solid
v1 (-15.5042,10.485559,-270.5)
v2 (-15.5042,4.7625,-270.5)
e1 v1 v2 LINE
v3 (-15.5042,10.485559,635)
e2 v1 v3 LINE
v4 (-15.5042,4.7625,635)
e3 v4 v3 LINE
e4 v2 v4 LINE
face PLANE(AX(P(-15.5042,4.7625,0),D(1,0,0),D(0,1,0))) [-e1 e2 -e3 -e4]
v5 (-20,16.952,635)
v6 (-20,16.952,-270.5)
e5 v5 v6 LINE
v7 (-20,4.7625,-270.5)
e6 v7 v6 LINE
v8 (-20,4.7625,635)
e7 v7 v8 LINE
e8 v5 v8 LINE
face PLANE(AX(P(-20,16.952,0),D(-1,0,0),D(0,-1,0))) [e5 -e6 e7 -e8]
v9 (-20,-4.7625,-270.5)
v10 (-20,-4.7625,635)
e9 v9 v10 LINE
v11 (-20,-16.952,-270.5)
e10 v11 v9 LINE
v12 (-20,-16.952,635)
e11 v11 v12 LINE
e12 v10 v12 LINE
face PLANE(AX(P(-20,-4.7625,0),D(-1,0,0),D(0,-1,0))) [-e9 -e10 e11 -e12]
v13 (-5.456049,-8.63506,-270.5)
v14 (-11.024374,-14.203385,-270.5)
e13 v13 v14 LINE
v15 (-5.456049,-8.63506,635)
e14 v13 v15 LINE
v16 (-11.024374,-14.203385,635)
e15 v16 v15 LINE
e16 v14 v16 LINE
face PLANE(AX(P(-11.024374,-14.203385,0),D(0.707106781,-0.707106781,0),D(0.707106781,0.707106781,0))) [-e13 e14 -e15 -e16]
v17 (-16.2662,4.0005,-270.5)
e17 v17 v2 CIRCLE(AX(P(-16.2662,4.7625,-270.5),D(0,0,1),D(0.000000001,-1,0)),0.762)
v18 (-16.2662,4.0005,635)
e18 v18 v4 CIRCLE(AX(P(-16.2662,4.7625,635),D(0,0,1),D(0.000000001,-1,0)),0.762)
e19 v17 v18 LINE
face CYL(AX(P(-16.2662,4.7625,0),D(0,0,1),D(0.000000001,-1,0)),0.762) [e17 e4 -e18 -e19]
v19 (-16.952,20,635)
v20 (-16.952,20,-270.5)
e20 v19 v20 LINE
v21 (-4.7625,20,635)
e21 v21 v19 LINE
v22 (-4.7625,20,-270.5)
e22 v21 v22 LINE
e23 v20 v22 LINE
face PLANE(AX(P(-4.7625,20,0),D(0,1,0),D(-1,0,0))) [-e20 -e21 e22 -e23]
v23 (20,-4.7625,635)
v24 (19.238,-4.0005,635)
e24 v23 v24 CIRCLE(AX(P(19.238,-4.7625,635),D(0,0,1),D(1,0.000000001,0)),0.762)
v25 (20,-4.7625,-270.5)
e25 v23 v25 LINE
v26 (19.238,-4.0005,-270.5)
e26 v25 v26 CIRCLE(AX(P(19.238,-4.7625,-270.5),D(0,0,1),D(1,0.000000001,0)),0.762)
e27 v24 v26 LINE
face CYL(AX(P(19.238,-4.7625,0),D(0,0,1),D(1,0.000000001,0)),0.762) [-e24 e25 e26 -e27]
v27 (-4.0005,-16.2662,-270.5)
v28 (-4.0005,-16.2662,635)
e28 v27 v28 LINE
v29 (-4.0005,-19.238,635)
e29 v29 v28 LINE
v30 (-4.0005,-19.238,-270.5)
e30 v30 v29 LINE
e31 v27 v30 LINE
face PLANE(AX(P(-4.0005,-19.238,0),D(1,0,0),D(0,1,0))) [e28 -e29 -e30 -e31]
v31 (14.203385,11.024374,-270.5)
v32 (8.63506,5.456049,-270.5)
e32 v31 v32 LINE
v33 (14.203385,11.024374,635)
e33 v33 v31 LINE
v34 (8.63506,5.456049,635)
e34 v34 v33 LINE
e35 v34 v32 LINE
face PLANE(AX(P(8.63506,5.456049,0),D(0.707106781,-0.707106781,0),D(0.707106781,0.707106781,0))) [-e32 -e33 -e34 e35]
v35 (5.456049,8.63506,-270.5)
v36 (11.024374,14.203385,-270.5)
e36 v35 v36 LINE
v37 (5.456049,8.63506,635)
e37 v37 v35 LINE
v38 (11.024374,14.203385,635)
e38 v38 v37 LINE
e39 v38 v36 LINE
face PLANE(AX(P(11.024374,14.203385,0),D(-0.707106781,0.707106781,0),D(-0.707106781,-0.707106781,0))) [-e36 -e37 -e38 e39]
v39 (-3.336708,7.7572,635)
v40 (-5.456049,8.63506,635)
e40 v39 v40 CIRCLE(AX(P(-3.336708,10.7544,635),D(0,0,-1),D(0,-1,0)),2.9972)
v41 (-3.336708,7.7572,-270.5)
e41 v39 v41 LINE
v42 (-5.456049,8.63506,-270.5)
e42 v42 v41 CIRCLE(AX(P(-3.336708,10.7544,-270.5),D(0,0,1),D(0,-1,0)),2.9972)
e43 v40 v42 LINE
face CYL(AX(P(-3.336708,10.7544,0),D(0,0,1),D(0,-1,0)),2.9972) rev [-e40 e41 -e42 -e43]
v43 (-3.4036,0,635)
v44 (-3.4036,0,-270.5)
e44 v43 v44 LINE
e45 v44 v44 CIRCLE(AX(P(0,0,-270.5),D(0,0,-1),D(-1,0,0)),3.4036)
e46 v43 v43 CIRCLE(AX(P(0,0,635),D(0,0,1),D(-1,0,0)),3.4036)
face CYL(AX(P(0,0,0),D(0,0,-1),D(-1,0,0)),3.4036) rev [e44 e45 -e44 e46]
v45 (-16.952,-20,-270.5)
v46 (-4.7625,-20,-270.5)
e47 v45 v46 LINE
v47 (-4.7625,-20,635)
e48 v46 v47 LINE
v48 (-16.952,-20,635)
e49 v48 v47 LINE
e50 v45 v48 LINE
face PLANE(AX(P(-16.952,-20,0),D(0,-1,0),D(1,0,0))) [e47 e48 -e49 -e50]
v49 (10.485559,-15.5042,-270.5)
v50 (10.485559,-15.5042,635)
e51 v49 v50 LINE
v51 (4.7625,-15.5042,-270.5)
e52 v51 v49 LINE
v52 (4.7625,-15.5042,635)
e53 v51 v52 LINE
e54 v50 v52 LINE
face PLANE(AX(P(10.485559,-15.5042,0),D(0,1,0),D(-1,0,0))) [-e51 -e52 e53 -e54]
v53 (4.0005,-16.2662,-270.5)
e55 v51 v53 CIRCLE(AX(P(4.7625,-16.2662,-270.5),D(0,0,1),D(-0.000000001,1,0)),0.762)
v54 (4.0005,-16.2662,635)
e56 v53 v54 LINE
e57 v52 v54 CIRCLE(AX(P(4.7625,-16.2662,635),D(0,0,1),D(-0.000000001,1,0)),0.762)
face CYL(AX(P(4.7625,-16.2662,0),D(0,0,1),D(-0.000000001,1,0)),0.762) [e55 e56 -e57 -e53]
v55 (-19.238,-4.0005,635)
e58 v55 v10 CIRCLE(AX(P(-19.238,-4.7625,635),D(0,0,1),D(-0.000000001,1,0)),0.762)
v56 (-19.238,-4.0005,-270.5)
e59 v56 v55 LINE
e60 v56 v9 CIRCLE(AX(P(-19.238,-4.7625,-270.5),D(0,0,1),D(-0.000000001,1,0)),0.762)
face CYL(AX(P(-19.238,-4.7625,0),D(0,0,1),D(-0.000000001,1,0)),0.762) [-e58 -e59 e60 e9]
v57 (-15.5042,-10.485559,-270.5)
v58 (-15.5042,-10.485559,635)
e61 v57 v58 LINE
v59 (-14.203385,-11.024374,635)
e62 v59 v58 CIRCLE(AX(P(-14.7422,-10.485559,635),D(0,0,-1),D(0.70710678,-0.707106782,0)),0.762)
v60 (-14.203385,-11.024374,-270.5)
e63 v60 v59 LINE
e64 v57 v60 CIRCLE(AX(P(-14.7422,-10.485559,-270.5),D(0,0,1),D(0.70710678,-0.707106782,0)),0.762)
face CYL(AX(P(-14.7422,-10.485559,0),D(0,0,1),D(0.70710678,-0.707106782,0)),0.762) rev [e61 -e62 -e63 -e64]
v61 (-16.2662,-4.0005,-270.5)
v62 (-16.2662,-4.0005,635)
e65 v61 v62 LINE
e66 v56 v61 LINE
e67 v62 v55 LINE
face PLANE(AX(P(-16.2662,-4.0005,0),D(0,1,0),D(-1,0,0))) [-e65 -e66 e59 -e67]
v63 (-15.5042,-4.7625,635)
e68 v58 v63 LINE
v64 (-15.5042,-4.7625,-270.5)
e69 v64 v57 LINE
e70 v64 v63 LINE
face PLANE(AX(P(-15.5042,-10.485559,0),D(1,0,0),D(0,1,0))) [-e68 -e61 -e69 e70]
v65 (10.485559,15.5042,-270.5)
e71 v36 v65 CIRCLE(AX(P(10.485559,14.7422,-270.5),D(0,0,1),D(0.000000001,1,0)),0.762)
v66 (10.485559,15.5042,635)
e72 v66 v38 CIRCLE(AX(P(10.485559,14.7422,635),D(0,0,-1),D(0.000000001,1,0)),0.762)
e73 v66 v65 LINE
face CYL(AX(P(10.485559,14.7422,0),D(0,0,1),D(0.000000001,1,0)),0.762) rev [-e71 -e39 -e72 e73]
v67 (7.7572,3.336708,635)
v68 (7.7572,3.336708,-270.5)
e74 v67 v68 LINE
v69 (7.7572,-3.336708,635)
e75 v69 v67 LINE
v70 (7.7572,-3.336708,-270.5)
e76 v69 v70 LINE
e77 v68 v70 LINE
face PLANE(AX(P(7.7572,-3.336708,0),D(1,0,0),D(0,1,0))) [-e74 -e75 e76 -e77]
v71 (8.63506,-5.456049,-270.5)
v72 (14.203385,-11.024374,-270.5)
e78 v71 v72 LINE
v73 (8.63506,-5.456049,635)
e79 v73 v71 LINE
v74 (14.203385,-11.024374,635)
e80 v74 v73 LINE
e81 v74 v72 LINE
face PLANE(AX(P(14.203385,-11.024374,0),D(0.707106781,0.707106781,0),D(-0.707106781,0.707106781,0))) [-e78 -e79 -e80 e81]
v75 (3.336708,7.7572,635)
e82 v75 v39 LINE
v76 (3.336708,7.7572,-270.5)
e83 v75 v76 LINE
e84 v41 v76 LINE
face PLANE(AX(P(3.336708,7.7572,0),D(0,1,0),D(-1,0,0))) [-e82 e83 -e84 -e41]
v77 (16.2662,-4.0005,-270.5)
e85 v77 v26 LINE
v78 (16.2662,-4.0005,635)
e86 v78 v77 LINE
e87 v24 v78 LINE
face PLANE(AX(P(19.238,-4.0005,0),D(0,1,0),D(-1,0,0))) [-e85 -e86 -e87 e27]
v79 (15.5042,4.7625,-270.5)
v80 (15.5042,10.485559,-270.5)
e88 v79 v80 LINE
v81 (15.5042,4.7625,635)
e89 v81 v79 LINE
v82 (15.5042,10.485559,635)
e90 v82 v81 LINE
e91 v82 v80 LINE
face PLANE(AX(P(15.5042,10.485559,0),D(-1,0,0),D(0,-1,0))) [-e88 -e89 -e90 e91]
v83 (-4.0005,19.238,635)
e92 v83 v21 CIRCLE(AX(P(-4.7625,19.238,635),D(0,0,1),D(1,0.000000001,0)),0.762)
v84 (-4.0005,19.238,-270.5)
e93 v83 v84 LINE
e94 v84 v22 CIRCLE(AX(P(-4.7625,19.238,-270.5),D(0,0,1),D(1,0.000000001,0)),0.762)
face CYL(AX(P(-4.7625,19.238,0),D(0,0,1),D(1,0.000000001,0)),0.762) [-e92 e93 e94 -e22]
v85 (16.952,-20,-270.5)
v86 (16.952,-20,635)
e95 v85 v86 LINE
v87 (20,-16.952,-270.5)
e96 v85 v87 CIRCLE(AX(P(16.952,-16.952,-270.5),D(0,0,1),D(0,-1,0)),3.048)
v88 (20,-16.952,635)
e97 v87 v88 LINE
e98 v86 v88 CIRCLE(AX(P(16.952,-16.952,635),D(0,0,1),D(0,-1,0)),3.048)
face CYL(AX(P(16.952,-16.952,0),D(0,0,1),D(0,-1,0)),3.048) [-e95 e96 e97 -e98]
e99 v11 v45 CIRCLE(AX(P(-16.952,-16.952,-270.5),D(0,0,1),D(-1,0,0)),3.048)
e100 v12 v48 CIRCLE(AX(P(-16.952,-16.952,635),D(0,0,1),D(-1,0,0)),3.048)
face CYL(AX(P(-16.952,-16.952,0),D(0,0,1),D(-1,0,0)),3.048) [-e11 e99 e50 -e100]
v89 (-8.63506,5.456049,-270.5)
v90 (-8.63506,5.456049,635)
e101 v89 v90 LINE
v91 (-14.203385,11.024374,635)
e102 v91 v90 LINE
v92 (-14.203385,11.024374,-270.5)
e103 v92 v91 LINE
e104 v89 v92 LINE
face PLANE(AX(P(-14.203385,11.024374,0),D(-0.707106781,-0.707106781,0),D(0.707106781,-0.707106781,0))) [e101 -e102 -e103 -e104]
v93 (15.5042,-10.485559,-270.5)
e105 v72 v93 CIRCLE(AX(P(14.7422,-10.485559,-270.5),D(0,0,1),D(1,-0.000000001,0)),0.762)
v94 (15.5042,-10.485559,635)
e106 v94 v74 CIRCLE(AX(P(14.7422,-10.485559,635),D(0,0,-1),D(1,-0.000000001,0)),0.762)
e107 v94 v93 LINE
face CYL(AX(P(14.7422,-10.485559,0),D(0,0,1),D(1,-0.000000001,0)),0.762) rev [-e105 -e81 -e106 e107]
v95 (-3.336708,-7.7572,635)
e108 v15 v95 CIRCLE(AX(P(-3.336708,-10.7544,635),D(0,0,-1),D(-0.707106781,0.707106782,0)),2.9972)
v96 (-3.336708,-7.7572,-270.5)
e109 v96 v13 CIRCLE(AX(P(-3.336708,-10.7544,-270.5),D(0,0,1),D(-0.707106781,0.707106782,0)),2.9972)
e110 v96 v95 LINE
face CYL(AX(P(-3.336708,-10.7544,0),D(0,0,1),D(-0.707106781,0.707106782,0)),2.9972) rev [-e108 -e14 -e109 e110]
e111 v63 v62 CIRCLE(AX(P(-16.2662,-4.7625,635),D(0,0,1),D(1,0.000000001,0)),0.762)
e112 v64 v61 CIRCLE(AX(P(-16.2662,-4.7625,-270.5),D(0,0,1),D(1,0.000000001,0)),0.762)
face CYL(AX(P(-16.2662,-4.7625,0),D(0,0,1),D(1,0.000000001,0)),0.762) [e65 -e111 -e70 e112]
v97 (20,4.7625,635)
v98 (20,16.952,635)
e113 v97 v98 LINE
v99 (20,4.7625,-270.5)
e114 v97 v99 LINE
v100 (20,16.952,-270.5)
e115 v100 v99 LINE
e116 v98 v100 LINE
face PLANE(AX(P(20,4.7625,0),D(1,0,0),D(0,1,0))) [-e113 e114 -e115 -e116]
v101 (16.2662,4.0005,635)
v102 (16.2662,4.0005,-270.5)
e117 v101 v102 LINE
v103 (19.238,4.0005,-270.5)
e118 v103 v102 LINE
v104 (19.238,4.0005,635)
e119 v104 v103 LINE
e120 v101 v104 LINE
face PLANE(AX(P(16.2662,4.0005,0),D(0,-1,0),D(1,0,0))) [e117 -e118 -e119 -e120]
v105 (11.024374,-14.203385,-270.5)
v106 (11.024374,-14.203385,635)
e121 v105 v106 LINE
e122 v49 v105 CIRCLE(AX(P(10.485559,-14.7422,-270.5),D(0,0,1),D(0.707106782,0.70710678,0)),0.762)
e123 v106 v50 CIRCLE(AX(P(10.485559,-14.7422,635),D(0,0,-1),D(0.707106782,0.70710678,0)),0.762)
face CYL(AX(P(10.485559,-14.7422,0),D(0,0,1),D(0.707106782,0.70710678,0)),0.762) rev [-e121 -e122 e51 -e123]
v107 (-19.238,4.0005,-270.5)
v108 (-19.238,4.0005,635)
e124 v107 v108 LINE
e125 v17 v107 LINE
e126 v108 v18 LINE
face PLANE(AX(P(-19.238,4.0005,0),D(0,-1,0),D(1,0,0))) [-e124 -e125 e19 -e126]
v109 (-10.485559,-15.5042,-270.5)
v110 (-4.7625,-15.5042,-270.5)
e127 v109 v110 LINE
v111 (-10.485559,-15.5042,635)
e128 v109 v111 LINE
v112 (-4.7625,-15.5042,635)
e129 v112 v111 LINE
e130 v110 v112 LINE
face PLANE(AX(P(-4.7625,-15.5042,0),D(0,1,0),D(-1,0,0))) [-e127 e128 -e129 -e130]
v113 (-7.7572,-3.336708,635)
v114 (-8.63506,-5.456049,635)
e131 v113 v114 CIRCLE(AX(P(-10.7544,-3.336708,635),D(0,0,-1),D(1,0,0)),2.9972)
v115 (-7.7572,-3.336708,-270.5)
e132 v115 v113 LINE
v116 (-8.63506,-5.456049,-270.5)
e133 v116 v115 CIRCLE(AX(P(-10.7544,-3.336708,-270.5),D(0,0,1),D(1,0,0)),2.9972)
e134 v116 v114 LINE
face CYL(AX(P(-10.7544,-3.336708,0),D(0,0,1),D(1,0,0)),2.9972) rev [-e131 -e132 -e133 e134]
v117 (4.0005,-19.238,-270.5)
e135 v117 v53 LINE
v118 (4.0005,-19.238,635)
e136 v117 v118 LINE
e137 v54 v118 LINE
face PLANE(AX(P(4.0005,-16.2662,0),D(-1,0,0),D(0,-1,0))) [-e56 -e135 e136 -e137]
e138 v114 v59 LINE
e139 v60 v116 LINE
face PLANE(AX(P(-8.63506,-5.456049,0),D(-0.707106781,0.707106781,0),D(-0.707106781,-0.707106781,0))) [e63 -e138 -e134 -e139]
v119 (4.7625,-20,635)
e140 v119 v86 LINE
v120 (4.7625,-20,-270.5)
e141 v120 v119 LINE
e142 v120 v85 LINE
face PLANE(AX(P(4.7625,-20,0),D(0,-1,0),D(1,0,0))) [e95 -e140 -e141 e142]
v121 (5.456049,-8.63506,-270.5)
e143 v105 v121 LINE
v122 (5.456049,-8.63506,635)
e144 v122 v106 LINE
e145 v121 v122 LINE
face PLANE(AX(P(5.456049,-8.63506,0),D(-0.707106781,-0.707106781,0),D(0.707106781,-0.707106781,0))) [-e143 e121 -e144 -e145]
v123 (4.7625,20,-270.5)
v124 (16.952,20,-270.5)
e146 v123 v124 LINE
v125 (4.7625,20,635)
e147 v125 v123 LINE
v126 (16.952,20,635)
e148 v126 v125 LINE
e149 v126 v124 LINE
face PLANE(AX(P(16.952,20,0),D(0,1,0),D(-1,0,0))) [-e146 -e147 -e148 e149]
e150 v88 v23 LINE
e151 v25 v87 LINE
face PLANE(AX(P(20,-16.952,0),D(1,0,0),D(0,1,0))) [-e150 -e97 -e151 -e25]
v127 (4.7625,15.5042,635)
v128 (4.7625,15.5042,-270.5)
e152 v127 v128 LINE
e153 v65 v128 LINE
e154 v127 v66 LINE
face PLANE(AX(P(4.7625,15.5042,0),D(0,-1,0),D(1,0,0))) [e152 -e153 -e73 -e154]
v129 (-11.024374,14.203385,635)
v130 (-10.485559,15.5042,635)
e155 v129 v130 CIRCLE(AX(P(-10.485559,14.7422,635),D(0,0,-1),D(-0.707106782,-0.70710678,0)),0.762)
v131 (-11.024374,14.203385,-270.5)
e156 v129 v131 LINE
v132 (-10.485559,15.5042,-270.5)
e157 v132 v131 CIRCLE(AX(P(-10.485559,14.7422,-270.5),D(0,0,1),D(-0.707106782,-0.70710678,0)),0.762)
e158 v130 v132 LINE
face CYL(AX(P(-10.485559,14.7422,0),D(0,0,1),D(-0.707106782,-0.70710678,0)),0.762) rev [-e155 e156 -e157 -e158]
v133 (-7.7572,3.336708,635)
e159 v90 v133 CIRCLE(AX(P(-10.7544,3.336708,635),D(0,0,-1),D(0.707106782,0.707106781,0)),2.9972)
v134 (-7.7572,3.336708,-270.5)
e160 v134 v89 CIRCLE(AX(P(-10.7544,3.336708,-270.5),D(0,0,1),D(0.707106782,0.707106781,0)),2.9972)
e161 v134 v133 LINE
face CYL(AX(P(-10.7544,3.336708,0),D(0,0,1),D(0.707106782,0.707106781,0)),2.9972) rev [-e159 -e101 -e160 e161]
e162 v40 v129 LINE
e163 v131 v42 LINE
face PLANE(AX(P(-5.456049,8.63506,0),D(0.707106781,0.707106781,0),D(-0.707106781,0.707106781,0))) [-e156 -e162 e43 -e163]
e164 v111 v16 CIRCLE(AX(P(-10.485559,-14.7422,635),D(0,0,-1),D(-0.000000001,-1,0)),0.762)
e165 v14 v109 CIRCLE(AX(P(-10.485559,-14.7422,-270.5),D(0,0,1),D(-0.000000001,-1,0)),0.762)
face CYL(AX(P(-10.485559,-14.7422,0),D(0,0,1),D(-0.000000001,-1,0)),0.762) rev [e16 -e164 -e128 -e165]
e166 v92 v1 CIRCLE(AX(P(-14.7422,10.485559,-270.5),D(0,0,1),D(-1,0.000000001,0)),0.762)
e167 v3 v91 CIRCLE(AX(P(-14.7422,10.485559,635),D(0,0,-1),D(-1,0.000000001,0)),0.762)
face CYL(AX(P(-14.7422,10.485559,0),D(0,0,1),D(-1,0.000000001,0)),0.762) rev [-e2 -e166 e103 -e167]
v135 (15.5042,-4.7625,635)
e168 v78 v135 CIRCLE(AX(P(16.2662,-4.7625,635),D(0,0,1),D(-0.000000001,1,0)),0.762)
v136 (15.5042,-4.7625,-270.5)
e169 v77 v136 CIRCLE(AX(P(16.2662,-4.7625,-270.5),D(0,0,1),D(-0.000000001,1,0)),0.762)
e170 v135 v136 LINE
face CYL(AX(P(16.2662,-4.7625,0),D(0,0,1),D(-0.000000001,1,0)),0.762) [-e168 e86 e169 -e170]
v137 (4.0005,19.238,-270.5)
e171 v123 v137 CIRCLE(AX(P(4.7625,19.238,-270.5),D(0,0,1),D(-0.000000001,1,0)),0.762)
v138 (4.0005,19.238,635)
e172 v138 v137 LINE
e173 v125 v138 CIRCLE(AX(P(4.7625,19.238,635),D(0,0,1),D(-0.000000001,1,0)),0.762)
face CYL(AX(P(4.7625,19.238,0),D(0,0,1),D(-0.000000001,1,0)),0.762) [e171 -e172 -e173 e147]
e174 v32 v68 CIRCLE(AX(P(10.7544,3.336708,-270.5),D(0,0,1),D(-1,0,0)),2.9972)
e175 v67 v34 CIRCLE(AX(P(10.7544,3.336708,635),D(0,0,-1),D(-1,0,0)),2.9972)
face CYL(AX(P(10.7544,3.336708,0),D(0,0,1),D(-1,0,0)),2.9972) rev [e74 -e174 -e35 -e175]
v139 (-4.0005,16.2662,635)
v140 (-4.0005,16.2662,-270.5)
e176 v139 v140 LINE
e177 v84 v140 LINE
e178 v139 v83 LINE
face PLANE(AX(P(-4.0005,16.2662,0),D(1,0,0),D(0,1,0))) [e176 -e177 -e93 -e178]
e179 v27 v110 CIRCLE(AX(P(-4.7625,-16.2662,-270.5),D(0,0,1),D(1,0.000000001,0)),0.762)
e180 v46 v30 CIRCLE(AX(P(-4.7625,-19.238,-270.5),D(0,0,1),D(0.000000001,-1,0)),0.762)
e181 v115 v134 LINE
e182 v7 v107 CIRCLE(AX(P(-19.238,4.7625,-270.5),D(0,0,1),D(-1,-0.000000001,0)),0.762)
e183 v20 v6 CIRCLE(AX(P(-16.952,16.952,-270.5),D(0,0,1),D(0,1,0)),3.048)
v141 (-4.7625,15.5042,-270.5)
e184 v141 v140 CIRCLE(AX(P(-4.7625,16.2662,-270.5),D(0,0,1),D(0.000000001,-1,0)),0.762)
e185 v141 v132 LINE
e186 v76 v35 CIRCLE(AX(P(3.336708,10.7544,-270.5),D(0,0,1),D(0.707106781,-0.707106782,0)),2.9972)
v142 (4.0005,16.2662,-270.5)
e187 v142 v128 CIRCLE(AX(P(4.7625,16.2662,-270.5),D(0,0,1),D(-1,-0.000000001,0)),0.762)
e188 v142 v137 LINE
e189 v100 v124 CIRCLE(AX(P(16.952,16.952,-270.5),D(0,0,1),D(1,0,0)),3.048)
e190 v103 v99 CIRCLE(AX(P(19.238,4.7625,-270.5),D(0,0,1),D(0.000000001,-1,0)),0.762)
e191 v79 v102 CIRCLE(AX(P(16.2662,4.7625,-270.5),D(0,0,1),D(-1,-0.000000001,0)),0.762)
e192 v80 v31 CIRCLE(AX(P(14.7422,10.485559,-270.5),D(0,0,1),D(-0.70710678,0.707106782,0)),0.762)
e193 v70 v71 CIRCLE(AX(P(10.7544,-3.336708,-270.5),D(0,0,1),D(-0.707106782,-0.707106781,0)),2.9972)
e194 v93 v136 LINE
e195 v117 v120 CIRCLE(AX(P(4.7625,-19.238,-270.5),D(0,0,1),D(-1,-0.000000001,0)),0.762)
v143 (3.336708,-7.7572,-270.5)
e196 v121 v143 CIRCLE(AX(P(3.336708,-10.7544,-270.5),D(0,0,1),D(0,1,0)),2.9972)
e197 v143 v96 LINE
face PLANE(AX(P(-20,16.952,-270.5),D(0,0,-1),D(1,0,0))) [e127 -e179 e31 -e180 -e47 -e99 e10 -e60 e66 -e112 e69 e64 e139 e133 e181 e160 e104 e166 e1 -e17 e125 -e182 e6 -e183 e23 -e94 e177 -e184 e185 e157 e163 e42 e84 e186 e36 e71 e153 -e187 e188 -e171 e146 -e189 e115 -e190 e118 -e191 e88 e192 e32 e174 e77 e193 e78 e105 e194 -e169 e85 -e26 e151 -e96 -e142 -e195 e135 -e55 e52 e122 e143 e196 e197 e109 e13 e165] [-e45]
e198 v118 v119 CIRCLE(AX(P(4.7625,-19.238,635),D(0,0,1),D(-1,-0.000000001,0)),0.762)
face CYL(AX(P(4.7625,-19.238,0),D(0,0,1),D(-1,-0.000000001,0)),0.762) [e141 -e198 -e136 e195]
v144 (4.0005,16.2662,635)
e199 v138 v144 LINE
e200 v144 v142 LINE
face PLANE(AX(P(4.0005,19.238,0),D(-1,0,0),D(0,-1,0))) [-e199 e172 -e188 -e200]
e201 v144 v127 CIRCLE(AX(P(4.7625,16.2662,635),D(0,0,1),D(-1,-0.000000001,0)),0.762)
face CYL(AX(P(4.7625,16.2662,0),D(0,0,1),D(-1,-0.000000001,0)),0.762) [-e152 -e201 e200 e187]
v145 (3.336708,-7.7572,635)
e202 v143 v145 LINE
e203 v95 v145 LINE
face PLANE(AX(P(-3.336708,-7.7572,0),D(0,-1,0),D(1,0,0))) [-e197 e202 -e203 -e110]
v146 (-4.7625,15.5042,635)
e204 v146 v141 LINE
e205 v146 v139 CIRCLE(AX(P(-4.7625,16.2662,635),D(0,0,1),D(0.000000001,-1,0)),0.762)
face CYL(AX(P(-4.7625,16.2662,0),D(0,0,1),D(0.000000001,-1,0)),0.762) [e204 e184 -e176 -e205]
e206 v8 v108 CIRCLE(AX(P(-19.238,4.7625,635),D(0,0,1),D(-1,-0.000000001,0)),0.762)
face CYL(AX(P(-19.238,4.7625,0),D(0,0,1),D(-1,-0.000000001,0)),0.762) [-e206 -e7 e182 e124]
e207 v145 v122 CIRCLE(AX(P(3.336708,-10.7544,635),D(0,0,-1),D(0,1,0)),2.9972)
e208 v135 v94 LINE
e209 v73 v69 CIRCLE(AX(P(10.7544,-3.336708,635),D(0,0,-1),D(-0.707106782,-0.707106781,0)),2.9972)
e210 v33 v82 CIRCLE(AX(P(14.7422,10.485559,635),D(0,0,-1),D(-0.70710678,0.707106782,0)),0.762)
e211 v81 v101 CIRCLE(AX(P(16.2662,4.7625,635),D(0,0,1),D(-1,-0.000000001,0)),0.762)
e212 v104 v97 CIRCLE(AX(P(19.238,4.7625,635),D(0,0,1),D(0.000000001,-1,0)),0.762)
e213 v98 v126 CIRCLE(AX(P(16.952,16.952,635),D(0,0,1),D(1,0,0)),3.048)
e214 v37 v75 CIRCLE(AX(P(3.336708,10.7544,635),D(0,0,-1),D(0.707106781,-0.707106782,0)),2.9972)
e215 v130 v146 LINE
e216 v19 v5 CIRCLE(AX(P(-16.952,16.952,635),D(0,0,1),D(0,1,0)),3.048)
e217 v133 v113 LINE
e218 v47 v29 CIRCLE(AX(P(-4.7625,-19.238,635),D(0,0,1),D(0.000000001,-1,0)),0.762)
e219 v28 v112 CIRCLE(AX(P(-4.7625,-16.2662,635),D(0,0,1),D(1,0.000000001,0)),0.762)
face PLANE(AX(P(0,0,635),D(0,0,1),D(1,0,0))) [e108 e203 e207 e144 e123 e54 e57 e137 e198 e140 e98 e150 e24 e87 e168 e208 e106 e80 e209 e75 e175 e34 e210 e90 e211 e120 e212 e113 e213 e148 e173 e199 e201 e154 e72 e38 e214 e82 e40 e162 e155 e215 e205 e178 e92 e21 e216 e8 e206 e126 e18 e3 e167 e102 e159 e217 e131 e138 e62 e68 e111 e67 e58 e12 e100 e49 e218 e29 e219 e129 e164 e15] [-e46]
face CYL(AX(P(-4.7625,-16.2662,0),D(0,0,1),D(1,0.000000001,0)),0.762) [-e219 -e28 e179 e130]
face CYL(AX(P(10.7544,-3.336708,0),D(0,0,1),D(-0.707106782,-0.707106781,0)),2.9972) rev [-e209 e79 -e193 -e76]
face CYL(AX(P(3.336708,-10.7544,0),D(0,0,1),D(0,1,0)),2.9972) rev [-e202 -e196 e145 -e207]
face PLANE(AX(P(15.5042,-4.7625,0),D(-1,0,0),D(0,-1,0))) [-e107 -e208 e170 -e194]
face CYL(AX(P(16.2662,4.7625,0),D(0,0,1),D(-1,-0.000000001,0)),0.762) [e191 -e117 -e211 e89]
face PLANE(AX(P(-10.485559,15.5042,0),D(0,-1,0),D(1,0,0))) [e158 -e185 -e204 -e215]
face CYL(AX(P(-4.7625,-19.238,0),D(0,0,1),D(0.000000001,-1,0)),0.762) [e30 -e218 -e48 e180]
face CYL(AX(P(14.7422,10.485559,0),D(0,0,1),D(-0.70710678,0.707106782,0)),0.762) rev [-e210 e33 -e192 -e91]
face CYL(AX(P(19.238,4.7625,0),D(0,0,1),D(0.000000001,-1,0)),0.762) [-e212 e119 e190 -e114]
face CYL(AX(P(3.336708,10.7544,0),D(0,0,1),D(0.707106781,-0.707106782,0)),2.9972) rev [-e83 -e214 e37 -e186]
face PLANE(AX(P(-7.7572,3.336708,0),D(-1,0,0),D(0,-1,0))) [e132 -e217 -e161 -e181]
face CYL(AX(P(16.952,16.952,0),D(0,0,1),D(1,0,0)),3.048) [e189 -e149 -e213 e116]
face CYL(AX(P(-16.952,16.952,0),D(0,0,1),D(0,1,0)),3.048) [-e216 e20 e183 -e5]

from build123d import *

# Parameters (mm, degrees)
SKETCH1_R          = 3.4036
EXTRUDE1_DEPTH     = 635
CUT_EXTRUDE1_REACH = 638.389
SKETCH4_W          = 58.501723951
SKETCH4_H          = 389.38319937
SKETCH5_W          = 40
SKETCH5_H          = 364.5
CUT_EXTRUDE2_DEPTH = 3.048


with BuildPart() as part:
    # Sketch1 → Extrude1 (new, symmetric)
    with BuildSketch(Plane.XY):
        with BuildLine():
            Line((-20, 16.952), (-20, 4.7625))
            ThreePointArc((-20, 4.7625), (-19.776815367, 4.223684633), (-19.238, 4.0005))
            Line((-19.238, 4.0005), (-16.2662, 4.0005))
            ThreePointArc((-16.2662, 4.0005), (-15.727384633, 4.223684633), (-15.5042, 4.7625))
            Line((-15.5042, 4.7625), (-15.5042, 10.485558599))
            ThreePointArc((-15.5042, 10.485558599), (-15.033804775, 11.189554802), (-14.203384633, 11.024373966))
            Line((-14.203384633, 11.024373966), (-8.635059555, 5.456048889))
            ThreePointArc((-8.635059555, 5.456048889), (-7.985348265, 4.483687227), (-7.7572, 3.336708444))
            Line((-7.7572, 3.336708444), (-7.7572, -3.336708444))
            ThreePointArc((-7.7572, -3.336708444), (-7.985348265, -4.483687227), (-8.635059555, -5.456048889))
            Line((-8.635059555, -5.456048889), (-14.203384633, -11.024373966))
            ThreePointArc((-14.203384633, -11.024373966), (-15.033804775, -11.189554802), (-15.5042, -10.485558599))
            Line((-15.5042, -10.485558599), (-15.5042, -4.7625))
            ThreePointArc((-15.5042, -4.7625), (-15.727384633, -4.223684633), (-16.2662, -4.0005))
            Line((-16.2662, -4.0005), (-19.238, -4.0005))
            ThreePointArc((-19.238, -4.0005), (-19.776815367, -4.223684633), (-20, -4.7625))
            Line((-20, -4.7625), (-20, -16.952))
            ThreePointArc((-20, -16.952), (-19.107261469, -19.107261469), (-16.952, -20))
            Line((-16.952, -20), (-4.7625, -20))
            ThreePointArc((-4.7625, -20), (-4.223684633, -19.776815367), (-4.0005, -19.238))
            Line((-4.0005, -19.238), (-4.0005, -16.2662))
            ThreePointArc((-4.0005, -16.2662), (-4.223684633, -15.727384633), (-4.7625, -15.5042))
            Line((-4.7625, -15.5042), (-10.485558599, -15.5042))
            ThreePointArc((-10.485558599, -15.5042), (-11.189554802, -15.033804775), (-11.024373966, -14.203384633))
            Line((-11.024373966, -14.203384633), (-5.456048889, -8.635059555))
            ThreePointArc((-5.456048889, -8.635059555), (-4.483687227, -7.985348265), (-3.336708444, -7.7572))
            Line((-3.336708444, -7.7572), (3.336708444, -7.7572))
            ThreePointArc((3.336708444, -7.7572), (4.483687227, -7.985348265), (5.456048889, -8.635059555))
            Line((5.456048889, -8.635059555), (11.024373966, -14.203384633))
            ThreePointArc((11.024373966, -14.203384633), (11.189554802, -15.033804775), (10.485558599, -15.5042))
            Line((10.485558599, -15.5042), (4.7625, -15.5042))
            ThreePointArc((4.7625, -15.5042), (4.223684633, -15.727384633), (4.0005, -16.2662))
            Line((4.0005, -16.2662), (4.0005, -19.238))
            ThreePointArc((4.0005, -19.238), (4.223684633, -19.776815367), (4.7625, -20))
            Line((4.7625, -20), (16.952, -20))
            ThreePointArc((16.952, -20), (19.107261469, -19.107261469), (20, -16.952))
            Line((20, -16.952), (20, -4.7625))
            ThreePointArc((20, -4.7625), (19.776815367, -4.223684633), (19.238, -4.0005))
            Line((19.238, -4.0005), (16.2662, -4.0005))
            ThreePointArc((16.2662, -4.0005), (15.727384633, -4.223684633), (15.5042, -4.7625))
            Line((15.5042, -4.7625), (15.5042, -10.485558599))
            ThreePointArc((15.5042, -10.485558599), (15.033804775, -11.189554802), (14.203384633, -11.024373966))
            Line((14.203384633, -11.024373966), (8.635059555, -5.456048889))
            ThreePointArc((8.635059555, -5.456048889), (7.985348265, -4.483687227), (7.7572, -3.336708444))
            Line((7.7572, -3.336708444), (7.7572, 3.336708444))
            ThreePointArc((7.7572, 3.336708444), (7.985348265, 4.483687227), (8.635059555, 5.456048889))
            Line((8.635059555, 5.456048889), (14.203384633, 11.024373966))
            ThreePointArc((14.203384633, 11.024373966), (15.033804775, 11.189554802), (15.5042, 10.485558599))
            Line((15.5042, 10.485558599), (15.5042, 4.7625))
            ThreePointArc((15.5042, 4.7625), (15.727384633, 4.223684633), (16.2662, 4.0005))
            Line((16.2662, 4.0005), (19.238, 4.0005))
            ThreePointArc((19.238, 4.0005), (19.776815367, 4.223684633), (20, 4.7625))
            Line((20, 4.7625), (20, 16.952))
            ThreePointArc((20, 16.952), (19.107261469, 19.107261469), (16.952, 20))
            Line((16.952, 20), (4.7625, 20))
            ThreePointArc((4.7625, 20), (4.223684633, 19.776815367), (4.0005, 19.238))
            Line((4.0005, 19.238), (4.0005, 16.2662))
            ThreePointArc((4.0005, 16.2662), (4.223684633, 15.727384633), (4.7625, 15.5042))
            Line((4.7625, 15.5042), (10.485558599, 15.5042))
            ThreePointArc((10.485558599, 15.5042), (11.189554802, 15.033804775), (11.024373966, 14.203384633))
            Line((11.024373966, 14.203384633), (5.456048889, 8.635059555))
            ThreePointArc((5.456048889, 8.635059555), (4.483687227, 7.985348265), (3.336708444, 7.7572))
            Line((3.336708444, 7.7572), (-3.336708444, 7.7572))
            ThreePointArc((-3.336708444, 7.7572), (-4.483687227, 7.985348265), (-5.456048889, 8.635059555))
            Line((-5.456048889, 8.635059555), (-11.024373966, 14.203384633))
            ThreePointArc((-11.024373966, 14.203384633), (-11.189554802, 15.033804775), (-10.485558599, 15.5042))
            Line((-10.485558599, 15.5042), (-4.7625, 15.5042))
            ThreePointArc((-4.7625, 15.5042), (-4.223684633, 15.727384633), (-4.0005, 16.2662))
            Line((-4.0005, 16.2662), (-4.0005, 19.238))
            ThreePointArc((-4.0005, 19.238), (-4.223684633, 19.776815367), (-4.7625, 20))
            Line((-4.7625, 20), (-16.952, 20))
            ThreePointArc((-16.952, 20), (-19.107261469, 19.107261469), (-20, 16.952))
        make_face()
        with Locations(Location((0, 0, 0), (0, 0, 180))):
            Circle(SKETCH1_R, mode=Mode.SUBTRACT)
    extrude(amount=EXTRUDE1_DEPTH, both=True)

    # Cut-Extrude1: up to this face of the body (flat: up to its plane)
    cut_extrude1_end = Plane(part.part.faces().sort_by_distance((10.85725, -20, 0))[0])
    # Sketch4 → Cut-Extrude1 (cut, up to the picked face)
    with BuildSketch(Plane(origin=(0, 16.952, 0), x_dir=(1, 0, 0), z_dir=(0, 1, 0)), mode=Mode.PRIVATE) as cut_extrude1_sk1:
        with Locations((5.781251025, 465.191599685)):
            Rectangle(SKETCH4_W, SKETCH4_H)
    cut_extrude1_tool1 = split(extrude(cut_extrude1_sk1.sketch, amount=-CUT_EXTRUDE1_REACH, mode=Mode.PRIVATE), bisect_by=cut_extrude1_end, keep=Keep.BOTH, mode=Mode.PRIVATE)
    add(cut_extrude1_tool1.solids().sort_by(Axis((5.781251, 16.952, -465.1916), (0, -1, 0)))[0], mode=Mode.SUBTRACT)

    # Sketch5 → Cut-Extrude2 (cut)
    with BuildSketch(Plane.XZ.offset(-16.952)):
        with Locations((0, -452.75)):
            Rectangle(SKETCH5_W, SKETCH5_H)
    extrude(amount=-CUT_EXTRUDE2_DEPTH, mode=Mode.SUBTRACT)


solid = part.part
